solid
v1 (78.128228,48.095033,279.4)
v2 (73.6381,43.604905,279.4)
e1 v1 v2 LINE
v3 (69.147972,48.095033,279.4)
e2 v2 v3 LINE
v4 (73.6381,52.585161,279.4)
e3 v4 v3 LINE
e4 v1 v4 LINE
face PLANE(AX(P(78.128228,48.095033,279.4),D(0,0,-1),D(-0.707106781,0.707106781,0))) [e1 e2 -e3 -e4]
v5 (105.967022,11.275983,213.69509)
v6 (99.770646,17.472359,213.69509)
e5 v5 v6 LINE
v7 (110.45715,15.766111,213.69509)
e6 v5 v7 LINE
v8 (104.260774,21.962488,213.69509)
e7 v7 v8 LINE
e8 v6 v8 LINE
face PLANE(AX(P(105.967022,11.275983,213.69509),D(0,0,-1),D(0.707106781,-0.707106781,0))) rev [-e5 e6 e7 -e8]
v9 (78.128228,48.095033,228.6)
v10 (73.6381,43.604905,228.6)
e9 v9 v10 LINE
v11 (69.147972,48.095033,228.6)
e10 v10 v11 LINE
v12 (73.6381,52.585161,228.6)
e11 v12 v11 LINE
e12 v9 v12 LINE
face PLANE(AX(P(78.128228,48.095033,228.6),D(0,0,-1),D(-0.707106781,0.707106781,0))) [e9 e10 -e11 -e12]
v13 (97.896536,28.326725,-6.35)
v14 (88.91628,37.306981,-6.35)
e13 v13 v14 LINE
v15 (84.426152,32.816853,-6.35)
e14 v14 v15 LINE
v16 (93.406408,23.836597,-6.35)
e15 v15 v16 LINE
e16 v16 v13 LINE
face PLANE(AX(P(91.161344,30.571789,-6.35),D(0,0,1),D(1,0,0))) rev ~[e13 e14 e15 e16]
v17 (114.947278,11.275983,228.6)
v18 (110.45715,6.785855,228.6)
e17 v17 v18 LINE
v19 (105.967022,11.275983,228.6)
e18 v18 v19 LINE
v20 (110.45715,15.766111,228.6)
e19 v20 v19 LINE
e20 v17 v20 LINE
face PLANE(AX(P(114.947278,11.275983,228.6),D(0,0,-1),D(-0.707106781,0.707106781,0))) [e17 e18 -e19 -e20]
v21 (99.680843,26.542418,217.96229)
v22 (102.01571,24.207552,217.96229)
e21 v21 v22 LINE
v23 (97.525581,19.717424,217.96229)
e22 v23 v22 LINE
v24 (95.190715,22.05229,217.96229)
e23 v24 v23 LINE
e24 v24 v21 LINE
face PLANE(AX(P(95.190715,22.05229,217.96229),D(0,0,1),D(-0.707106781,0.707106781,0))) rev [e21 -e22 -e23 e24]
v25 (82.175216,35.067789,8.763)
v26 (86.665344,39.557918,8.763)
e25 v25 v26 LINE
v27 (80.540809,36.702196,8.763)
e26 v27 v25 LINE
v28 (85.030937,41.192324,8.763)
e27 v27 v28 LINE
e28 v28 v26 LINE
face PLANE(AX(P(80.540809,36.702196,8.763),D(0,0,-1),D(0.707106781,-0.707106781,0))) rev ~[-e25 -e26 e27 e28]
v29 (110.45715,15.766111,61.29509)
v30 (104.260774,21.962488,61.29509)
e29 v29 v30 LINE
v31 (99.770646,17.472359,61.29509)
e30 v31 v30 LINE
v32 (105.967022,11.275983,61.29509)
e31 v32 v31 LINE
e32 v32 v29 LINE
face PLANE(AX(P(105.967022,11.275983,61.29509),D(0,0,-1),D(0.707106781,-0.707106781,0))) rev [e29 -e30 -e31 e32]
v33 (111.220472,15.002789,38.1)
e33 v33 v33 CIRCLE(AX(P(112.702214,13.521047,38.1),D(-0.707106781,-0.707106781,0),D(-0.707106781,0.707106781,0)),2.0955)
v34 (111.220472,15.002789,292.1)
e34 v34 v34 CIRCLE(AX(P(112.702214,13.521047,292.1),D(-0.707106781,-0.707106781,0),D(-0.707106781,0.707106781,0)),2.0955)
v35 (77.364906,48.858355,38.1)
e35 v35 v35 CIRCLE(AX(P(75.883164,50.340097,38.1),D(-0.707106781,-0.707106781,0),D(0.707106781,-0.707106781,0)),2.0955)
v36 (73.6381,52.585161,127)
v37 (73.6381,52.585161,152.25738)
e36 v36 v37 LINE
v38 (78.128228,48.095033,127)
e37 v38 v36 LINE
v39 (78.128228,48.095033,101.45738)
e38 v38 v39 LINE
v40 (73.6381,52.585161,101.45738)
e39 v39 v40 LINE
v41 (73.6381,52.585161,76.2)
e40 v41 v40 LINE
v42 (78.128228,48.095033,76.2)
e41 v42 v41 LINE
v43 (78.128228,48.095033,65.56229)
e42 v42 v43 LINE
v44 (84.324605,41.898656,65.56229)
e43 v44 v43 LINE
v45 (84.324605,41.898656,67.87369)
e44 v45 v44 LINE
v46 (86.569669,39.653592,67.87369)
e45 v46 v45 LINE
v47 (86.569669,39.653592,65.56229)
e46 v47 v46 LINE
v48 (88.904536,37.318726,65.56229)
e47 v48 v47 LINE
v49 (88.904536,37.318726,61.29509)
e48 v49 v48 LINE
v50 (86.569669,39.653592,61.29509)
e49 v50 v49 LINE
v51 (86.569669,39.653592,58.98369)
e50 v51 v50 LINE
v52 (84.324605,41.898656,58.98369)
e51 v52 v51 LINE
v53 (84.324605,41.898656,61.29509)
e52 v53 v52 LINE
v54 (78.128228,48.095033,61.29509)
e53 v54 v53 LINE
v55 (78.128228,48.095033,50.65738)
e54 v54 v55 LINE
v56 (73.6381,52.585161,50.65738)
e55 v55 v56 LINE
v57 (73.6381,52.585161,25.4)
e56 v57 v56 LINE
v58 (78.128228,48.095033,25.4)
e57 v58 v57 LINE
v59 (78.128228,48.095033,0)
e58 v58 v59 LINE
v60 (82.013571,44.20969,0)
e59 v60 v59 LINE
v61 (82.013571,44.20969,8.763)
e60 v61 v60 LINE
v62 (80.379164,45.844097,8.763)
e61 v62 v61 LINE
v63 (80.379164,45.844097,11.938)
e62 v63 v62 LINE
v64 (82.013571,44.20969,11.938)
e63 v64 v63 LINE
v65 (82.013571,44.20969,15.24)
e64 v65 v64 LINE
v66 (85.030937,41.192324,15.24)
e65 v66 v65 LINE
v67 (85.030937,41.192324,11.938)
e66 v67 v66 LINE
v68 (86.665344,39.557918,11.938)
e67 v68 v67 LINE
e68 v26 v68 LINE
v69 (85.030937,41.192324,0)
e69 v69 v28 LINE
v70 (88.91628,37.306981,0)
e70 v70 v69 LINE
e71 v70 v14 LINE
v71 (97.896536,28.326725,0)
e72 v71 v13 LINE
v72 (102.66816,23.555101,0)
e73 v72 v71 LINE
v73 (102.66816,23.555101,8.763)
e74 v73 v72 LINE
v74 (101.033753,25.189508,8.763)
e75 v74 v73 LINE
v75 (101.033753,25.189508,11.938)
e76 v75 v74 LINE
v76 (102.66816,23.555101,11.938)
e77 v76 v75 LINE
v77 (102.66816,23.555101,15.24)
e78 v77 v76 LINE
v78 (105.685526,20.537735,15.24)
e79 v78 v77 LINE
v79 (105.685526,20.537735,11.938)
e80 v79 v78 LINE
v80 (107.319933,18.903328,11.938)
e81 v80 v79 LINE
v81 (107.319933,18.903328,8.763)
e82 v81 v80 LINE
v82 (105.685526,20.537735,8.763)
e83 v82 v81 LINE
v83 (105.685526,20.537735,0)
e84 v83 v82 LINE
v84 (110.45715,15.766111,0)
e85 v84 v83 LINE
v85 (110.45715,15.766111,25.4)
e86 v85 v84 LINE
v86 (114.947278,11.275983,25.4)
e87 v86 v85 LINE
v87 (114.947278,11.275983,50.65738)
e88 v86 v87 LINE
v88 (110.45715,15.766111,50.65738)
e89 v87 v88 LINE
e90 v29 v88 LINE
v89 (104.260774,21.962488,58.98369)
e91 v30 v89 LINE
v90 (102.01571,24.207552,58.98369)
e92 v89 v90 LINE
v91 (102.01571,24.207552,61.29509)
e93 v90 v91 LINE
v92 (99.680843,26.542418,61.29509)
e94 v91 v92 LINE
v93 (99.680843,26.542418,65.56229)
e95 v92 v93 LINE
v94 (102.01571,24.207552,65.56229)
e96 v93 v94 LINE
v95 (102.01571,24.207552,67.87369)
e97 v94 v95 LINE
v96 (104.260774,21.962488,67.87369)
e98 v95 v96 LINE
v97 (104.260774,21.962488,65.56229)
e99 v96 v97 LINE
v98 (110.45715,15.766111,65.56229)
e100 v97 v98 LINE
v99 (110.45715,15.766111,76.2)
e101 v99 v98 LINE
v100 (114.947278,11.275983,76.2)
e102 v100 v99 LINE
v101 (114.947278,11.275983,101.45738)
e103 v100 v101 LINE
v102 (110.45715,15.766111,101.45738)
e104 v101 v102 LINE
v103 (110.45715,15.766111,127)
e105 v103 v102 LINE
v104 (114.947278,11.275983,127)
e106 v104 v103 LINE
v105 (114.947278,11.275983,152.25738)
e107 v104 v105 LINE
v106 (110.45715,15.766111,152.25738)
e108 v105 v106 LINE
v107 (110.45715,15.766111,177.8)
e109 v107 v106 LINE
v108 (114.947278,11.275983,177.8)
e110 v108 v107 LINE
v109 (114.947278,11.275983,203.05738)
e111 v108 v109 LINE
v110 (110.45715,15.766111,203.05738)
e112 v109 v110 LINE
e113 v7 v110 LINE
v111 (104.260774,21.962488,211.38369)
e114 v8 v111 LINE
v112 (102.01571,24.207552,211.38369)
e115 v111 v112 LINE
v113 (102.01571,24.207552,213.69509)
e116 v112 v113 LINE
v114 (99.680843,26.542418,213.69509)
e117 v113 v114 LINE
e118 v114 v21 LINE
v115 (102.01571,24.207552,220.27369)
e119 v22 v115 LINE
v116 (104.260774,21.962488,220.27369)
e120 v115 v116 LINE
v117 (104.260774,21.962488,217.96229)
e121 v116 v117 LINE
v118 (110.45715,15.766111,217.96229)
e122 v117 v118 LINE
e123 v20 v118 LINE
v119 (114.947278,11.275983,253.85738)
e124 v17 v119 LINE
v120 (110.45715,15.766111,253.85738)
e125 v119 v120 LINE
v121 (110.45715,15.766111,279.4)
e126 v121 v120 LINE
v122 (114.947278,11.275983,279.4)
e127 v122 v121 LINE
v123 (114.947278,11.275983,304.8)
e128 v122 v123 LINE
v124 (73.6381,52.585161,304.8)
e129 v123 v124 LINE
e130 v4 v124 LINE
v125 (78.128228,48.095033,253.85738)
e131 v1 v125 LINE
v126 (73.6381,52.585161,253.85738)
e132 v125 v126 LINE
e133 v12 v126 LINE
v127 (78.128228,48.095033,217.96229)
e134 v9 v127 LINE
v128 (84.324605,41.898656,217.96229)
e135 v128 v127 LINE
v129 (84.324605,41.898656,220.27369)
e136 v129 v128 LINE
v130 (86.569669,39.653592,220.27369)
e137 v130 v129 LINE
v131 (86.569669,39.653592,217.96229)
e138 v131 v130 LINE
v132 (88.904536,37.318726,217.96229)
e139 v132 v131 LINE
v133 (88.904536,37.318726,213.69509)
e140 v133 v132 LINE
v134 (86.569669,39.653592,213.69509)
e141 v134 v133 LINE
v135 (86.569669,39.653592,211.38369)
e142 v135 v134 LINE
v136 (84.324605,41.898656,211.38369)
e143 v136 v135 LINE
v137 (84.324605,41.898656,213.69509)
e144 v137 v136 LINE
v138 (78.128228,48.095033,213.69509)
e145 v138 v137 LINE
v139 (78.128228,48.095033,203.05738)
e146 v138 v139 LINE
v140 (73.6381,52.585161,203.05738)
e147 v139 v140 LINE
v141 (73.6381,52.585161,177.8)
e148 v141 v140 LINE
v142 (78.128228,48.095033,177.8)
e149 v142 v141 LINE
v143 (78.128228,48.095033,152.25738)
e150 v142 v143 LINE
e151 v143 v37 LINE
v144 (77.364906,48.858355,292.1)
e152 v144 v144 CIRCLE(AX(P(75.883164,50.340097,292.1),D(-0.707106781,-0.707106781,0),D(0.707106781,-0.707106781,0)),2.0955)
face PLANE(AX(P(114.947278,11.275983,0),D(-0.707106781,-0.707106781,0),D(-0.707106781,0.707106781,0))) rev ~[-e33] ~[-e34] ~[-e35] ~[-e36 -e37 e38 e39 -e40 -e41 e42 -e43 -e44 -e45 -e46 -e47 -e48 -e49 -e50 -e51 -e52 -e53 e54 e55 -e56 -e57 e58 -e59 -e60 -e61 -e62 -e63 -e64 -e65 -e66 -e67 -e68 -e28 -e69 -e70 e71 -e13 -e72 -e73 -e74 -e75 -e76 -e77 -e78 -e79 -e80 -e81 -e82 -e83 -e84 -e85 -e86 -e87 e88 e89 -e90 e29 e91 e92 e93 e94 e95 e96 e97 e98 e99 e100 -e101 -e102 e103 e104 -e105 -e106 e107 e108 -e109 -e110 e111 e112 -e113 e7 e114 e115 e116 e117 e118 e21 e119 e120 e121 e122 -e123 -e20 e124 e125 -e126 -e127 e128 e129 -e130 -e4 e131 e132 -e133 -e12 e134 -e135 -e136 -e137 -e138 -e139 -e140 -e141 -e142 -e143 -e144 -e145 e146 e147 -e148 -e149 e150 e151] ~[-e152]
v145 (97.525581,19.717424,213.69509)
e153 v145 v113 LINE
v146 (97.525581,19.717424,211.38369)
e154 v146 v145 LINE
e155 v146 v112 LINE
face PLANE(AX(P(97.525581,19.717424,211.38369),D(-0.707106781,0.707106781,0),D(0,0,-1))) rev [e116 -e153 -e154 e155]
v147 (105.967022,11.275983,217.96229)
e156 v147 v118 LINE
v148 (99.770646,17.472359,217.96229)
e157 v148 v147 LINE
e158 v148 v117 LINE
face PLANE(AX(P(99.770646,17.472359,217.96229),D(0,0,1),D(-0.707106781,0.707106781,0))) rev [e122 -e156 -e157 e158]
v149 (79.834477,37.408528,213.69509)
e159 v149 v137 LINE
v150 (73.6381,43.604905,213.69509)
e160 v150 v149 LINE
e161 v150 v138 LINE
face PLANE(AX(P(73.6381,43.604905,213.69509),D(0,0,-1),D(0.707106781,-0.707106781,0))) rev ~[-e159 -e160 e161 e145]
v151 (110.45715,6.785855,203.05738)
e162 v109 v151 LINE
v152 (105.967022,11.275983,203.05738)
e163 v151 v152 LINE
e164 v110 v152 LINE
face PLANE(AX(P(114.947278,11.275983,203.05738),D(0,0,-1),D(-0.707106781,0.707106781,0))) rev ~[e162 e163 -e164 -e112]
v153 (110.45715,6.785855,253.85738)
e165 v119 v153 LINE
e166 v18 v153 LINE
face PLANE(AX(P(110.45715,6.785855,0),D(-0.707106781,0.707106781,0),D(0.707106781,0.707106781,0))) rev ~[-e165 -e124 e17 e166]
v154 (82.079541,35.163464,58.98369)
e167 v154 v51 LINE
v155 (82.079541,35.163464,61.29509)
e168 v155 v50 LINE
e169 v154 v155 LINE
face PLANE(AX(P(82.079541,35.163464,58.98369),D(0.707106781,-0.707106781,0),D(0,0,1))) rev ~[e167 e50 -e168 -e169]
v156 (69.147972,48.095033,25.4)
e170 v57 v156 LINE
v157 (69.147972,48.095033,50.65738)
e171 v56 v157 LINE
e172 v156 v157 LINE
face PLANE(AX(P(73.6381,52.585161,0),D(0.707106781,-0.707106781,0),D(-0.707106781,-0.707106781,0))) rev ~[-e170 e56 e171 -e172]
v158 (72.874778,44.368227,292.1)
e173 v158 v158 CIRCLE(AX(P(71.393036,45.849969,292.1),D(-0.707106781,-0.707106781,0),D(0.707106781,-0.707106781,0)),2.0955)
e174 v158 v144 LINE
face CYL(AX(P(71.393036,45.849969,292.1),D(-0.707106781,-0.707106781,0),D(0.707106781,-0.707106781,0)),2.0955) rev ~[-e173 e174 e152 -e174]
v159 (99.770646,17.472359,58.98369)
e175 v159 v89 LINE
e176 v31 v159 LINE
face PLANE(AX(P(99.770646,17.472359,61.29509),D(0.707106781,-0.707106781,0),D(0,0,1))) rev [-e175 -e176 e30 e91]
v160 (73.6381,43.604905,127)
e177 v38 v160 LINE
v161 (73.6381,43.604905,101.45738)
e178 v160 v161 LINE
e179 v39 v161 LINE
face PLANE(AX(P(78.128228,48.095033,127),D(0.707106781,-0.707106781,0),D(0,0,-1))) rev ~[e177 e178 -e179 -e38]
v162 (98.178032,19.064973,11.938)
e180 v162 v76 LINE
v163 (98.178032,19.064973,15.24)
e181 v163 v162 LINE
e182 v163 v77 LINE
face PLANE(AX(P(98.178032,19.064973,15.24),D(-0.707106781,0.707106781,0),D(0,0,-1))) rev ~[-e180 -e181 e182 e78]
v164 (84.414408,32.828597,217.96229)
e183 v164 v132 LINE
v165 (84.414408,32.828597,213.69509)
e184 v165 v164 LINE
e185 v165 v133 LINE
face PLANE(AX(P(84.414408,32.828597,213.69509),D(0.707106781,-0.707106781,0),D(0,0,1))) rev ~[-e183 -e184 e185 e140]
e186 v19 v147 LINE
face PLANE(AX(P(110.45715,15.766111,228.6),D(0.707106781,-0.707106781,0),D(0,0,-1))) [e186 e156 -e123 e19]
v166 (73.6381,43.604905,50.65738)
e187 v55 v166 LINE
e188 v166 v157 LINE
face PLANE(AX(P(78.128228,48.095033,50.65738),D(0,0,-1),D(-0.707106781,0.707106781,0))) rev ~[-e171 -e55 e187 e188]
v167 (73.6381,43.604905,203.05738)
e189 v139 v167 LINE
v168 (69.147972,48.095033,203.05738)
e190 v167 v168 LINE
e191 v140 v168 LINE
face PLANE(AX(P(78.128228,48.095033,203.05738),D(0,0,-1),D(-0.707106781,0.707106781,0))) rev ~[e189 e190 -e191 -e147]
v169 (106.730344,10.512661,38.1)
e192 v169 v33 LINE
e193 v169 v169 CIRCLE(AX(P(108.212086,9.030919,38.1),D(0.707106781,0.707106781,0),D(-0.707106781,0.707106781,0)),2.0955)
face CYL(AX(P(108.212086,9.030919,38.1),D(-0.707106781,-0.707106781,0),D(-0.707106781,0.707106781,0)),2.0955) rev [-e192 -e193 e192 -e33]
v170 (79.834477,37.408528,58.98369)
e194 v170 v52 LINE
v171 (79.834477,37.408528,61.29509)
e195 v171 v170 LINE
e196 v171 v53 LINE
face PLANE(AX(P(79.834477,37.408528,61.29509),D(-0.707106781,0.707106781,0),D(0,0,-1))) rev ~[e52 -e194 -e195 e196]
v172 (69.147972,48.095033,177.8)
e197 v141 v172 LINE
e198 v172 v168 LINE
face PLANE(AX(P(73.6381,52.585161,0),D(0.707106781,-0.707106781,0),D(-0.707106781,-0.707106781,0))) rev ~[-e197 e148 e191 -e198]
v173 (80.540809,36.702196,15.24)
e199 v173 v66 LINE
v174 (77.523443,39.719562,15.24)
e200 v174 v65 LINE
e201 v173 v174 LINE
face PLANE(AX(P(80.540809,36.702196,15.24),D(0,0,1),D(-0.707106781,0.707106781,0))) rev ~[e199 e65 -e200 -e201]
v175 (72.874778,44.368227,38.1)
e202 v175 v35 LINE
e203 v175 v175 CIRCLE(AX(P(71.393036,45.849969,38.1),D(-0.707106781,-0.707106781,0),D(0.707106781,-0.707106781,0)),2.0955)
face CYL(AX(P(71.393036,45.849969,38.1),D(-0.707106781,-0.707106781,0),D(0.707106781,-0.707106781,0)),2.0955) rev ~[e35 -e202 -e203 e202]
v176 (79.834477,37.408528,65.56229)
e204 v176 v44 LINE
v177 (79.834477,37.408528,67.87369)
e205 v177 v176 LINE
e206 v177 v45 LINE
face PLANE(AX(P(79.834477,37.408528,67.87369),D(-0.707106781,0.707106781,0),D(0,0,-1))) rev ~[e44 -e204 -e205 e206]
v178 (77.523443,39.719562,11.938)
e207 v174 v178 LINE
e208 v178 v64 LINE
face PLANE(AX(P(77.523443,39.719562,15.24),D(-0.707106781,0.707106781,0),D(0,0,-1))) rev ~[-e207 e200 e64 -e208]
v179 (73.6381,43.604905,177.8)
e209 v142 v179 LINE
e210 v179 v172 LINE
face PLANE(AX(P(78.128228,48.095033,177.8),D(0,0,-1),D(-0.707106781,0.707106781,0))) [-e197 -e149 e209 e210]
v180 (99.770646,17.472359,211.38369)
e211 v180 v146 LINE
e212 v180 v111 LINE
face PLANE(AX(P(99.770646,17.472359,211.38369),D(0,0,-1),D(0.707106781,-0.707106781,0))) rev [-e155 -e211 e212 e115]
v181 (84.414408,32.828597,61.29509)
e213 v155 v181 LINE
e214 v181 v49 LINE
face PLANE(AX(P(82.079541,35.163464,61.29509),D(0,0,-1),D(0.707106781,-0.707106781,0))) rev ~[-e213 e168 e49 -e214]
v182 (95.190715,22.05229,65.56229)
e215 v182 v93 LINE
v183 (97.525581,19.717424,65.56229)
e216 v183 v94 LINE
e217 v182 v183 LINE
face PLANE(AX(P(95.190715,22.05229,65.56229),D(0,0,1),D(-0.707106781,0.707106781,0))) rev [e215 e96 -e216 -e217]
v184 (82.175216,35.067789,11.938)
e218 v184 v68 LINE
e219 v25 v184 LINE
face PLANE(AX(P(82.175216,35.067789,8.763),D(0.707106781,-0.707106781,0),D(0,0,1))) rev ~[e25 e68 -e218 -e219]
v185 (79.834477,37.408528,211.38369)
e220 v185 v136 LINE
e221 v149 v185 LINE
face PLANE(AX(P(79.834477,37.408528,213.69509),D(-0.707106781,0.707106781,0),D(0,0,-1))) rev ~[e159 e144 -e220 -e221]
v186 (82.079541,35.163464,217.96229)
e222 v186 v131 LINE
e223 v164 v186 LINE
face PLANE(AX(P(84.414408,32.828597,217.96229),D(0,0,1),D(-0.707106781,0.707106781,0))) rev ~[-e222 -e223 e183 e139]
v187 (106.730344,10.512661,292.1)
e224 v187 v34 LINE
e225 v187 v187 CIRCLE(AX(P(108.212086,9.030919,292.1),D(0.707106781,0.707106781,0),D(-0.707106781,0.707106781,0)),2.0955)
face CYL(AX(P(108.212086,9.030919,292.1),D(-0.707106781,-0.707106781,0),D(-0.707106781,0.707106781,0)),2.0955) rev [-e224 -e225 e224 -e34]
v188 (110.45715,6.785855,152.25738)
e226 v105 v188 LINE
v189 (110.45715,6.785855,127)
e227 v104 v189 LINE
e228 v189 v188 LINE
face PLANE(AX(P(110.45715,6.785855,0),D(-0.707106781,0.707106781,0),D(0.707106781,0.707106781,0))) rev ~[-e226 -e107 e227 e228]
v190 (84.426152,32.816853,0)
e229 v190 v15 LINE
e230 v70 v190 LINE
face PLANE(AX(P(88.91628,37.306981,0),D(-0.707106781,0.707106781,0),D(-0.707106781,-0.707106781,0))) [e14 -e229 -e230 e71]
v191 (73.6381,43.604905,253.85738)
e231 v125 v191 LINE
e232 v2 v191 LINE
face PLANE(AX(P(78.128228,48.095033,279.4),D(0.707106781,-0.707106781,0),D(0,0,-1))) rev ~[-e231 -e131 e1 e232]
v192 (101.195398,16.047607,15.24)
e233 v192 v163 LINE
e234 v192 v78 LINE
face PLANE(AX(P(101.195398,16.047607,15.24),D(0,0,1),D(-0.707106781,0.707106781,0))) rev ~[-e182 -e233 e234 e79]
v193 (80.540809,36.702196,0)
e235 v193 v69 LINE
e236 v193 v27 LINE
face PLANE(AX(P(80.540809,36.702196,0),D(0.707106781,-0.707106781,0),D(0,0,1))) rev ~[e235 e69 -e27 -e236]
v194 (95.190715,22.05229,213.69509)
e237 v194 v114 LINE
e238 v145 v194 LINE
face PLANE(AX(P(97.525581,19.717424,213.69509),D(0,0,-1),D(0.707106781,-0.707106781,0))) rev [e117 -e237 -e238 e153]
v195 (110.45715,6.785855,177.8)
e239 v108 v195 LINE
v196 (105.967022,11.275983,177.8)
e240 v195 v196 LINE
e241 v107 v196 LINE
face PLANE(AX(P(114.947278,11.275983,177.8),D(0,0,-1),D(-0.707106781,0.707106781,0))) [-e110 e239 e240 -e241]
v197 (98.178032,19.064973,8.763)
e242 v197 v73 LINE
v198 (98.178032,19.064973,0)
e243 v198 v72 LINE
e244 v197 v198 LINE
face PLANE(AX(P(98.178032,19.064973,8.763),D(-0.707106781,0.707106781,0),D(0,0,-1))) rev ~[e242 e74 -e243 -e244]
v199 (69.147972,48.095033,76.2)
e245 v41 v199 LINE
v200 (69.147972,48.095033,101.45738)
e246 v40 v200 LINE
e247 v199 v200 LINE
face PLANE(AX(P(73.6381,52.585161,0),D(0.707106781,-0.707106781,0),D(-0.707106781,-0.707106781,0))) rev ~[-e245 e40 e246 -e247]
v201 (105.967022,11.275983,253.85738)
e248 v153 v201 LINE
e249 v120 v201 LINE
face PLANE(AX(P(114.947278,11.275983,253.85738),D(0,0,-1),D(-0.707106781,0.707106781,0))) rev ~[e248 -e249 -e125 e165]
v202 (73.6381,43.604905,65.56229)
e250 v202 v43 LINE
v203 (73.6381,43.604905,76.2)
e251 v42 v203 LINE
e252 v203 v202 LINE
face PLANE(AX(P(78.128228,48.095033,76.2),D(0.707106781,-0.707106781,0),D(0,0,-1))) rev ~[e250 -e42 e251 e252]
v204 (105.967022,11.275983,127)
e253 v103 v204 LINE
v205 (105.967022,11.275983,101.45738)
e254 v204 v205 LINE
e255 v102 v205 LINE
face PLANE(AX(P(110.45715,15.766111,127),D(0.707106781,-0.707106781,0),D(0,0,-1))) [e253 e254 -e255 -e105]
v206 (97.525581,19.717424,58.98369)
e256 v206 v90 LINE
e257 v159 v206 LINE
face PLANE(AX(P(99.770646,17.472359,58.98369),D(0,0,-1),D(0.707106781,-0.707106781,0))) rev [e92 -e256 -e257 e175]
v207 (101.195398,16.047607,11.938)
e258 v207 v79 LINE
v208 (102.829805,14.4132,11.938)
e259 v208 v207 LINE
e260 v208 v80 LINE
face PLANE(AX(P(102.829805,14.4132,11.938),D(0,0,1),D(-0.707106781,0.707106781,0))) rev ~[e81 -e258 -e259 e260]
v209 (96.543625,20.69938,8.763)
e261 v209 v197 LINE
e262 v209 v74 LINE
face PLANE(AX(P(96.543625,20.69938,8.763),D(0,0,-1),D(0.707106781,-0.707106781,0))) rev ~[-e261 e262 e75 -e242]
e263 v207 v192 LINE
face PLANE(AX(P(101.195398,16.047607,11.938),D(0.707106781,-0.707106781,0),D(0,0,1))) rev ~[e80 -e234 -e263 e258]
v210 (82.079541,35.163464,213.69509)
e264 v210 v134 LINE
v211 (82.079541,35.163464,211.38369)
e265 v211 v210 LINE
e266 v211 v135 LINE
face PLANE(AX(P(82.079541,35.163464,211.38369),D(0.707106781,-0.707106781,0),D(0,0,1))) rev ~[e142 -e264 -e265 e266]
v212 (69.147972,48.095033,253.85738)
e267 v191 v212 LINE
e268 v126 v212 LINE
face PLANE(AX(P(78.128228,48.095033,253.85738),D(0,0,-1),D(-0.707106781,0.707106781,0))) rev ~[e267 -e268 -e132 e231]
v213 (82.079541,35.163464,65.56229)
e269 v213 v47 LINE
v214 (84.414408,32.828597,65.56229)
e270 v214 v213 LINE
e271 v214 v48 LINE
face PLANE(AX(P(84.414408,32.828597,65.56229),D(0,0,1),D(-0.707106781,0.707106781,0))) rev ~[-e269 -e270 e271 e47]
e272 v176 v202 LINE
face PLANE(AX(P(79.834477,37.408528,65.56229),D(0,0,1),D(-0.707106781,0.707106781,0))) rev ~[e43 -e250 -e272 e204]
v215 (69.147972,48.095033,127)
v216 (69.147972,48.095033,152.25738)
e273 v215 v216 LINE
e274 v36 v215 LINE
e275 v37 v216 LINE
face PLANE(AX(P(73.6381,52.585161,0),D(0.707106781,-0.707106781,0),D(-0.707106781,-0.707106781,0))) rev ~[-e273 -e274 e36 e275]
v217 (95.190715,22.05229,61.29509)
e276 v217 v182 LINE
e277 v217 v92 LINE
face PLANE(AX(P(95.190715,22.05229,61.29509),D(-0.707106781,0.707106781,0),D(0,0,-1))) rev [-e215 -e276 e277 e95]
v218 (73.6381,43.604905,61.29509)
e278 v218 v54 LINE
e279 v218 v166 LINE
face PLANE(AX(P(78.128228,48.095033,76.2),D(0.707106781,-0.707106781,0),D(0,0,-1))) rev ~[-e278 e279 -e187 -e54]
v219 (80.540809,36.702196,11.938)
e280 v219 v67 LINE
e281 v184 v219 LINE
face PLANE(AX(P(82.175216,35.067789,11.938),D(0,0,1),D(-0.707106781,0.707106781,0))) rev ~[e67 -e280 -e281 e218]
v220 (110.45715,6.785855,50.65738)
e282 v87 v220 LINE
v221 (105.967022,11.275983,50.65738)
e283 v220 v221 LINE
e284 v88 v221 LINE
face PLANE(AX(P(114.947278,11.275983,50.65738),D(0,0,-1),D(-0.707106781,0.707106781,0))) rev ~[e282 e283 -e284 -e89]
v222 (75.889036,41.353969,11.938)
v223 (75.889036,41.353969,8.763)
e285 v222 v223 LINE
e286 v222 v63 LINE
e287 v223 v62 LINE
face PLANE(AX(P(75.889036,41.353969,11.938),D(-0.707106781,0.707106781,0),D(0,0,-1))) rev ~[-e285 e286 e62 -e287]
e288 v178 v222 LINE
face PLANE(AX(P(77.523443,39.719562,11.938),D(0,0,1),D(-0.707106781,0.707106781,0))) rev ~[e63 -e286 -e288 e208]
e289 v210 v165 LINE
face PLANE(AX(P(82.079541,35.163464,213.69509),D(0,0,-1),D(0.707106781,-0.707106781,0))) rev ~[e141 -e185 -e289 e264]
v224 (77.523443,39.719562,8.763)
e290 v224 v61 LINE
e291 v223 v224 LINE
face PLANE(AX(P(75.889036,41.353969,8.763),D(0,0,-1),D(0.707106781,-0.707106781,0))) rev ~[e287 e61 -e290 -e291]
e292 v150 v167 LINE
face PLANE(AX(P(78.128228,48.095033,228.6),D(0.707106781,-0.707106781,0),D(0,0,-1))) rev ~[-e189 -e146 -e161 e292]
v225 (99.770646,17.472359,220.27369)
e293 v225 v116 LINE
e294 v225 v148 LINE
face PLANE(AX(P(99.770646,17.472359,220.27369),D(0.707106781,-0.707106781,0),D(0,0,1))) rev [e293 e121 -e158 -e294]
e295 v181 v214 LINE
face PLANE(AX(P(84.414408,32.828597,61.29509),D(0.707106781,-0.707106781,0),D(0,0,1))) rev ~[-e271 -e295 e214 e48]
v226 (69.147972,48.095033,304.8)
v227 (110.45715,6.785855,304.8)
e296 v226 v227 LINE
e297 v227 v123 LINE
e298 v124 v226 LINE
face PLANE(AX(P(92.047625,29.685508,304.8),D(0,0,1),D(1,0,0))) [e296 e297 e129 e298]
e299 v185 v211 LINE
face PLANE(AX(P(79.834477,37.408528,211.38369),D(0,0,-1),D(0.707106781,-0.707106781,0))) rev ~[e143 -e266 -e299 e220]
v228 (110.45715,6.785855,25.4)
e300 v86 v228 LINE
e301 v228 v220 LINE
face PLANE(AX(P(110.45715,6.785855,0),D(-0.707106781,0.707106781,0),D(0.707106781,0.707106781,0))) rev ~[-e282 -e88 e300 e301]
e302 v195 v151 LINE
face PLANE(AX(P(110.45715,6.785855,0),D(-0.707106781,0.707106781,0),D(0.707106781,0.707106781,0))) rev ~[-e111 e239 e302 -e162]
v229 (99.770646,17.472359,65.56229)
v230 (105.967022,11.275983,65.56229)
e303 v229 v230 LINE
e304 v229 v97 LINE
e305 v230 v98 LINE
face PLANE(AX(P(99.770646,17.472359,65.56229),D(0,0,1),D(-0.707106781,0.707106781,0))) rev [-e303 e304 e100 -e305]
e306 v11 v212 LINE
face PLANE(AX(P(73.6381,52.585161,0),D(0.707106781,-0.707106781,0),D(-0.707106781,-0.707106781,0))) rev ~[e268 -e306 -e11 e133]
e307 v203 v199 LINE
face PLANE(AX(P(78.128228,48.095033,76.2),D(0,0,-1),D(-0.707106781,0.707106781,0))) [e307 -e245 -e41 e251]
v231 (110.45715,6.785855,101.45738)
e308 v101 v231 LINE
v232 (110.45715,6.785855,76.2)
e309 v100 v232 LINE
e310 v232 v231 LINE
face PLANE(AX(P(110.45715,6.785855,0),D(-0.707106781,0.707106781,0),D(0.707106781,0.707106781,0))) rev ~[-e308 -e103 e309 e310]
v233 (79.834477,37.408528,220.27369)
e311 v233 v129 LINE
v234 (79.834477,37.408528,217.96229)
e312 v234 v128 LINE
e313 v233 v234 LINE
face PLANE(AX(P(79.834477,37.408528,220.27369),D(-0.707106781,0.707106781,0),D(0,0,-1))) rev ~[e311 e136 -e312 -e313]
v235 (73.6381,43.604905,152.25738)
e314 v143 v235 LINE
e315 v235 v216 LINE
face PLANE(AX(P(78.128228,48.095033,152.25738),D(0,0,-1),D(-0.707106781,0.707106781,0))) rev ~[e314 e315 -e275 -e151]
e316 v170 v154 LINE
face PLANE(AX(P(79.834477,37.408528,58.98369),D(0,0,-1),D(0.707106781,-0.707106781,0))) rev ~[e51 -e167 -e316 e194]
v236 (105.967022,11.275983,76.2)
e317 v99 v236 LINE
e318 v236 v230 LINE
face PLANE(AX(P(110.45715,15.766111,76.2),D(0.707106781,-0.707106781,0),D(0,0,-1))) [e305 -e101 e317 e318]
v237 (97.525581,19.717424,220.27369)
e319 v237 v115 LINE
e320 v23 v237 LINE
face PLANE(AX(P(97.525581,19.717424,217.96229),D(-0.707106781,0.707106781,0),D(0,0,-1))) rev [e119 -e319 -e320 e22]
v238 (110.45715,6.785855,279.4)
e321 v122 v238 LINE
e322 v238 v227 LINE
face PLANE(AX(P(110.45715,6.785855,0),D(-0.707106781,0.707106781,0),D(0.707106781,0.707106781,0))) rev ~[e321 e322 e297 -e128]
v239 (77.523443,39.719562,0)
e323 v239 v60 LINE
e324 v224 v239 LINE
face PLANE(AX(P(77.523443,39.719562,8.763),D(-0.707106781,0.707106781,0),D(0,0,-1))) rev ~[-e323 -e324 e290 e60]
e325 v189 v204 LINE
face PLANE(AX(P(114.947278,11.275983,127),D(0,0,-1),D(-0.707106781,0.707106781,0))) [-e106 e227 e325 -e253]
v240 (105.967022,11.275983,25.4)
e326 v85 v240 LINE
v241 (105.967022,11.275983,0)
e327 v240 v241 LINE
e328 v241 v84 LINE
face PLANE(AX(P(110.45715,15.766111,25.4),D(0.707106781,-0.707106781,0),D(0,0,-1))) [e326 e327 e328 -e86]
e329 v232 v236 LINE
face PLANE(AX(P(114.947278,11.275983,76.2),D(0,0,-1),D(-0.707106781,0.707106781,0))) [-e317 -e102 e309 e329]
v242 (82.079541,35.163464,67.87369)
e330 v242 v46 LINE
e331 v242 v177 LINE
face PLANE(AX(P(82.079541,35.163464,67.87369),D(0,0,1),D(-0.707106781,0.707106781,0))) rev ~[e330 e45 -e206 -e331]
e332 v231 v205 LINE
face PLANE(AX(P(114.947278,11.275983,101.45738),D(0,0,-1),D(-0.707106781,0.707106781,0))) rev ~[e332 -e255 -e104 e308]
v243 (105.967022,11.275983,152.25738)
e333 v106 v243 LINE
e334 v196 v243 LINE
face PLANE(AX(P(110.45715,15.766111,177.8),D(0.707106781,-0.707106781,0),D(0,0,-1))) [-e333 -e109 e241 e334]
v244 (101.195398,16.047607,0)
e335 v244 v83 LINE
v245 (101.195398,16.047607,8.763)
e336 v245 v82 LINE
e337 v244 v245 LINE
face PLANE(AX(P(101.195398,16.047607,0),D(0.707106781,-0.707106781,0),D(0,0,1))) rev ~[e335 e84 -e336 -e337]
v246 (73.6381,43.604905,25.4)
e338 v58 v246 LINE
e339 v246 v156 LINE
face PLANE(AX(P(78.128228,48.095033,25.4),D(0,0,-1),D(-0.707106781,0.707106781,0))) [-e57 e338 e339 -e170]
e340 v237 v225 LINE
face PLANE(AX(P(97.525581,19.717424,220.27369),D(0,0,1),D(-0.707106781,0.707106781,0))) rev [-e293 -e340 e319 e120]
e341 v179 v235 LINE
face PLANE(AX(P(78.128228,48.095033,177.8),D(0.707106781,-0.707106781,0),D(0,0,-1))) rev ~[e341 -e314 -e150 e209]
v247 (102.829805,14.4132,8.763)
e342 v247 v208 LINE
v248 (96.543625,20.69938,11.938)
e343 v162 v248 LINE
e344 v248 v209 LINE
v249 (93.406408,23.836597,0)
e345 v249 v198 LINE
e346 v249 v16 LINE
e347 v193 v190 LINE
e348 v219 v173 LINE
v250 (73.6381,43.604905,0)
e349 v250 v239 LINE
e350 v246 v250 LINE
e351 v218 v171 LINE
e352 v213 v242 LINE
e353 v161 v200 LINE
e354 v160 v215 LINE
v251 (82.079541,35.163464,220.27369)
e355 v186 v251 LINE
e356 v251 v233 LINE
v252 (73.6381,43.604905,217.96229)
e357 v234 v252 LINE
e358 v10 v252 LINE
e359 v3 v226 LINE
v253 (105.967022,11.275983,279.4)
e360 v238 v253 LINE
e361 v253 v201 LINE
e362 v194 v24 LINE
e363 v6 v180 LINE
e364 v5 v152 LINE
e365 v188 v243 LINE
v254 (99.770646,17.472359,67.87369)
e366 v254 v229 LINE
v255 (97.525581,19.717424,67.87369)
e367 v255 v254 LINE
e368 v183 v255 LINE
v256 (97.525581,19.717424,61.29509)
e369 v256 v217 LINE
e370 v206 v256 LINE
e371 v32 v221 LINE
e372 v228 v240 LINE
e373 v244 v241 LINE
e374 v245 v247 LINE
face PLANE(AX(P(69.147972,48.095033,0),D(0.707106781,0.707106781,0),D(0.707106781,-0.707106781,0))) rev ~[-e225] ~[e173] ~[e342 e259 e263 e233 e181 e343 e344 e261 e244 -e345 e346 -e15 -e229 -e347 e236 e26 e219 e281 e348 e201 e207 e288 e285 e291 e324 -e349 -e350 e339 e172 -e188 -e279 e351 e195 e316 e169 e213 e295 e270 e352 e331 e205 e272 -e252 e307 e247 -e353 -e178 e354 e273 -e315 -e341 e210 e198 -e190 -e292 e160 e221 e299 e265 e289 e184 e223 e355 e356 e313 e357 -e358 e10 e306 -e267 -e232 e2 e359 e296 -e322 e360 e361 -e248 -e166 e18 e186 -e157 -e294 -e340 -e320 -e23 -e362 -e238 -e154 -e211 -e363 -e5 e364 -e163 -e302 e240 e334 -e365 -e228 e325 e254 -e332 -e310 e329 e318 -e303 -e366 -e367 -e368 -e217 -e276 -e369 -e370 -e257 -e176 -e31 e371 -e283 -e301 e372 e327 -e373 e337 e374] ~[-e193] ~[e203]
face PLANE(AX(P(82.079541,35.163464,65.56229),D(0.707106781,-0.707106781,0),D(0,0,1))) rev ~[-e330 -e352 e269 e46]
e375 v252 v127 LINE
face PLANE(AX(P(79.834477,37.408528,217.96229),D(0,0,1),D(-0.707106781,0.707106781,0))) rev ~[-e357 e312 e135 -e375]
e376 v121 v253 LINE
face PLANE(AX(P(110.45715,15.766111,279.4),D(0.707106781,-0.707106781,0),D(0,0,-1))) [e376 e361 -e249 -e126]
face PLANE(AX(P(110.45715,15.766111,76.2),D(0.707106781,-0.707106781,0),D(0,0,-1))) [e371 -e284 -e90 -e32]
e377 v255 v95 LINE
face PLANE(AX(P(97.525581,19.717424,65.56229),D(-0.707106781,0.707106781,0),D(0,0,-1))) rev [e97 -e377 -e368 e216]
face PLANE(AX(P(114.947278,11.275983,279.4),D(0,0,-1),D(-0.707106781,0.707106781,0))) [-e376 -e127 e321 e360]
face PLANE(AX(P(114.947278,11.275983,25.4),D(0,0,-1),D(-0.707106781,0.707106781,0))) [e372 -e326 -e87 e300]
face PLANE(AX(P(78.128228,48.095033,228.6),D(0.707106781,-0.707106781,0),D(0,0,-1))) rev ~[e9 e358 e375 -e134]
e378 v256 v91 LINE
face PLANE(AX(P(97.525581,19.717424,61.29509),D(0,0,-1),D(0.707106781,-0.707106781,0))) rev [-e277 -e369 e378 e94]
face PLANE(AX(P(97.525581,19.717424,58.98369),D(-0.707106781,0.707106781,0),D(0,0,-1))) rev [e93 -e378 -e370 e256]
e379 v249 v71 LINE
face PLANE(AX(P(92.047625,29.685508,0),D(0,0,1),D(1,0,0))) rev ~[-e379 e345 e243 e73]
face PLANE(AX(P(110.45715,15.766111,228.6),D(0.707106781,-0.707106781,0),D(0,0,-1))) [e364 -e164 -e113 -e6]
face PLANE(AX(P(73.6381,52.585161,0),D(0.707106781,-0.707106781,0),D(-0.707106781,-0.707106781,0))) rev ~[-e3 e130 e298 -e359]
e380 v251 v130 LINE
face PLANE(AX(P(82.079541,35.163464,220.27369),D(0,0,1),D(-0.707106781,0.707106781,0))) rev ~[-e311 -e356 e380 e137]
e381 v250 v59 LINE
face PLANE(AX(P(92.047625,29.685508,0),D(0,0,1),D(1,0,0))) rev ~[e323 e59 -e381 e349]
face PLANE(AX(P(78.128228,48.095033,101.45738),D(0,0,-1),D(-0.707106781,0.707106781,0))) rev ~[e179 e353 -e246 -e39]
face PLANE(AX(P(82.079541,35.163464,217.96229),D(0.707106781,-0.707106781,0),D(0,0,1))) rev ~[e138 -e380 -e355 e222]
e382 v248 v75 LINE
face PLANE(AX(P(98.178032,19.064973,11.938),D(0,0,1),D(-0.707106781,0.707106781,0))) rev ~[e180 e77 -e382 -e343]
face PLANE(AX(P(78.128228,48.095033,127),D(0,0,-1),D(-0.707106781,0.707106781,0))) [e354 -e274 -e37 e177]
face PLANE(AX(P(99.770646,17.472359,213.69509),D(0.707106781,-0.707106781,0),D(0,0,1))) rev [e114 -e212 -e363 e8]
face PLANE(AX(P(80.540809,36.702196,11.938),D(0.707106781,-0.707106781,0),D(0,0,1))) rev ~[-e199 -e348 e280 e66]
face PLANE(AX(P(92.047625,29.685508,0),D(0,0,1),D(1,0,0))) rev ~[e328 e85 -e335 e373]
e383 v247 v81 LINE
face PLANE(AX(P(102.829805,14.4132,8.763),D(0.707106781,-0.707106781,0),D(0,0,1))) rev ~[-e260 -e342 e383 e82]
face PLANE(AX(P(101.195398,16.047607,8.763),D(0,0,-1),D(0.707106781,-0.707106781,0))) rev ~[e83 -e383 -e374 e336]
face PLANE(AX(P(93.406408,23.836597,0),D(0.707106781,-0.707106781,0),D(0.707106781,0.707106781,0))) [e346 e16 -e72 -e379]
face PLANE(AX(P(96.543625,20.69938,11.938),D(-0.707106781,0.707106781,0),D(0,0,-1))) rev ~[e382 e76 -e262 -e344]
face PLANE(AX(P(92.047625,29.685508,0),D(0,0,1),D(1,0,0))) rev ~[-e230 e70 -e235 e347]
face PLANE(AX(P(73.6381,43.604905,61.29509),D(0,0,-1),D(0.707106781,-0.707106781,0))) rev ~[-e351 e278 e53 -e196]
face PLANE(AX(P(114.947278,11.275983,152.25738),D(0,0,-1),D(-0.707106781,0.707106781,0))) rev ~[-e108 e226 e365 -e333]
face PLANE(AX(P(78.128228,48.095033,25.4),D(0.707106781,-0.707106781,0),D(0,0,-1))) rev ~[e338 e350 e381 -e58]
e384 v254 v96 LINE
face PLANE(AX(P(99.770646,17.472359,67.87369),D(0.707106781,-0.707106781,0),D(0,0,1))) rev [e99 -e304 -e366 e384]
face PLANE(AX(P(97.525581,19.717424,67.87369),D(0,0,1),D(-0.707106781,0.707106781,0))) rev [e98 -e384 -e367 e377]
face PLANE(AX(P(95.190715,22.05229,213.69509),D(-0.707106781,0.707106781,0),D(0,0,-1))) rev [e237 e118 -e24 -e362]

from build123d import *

# Parameters (mm, degrees)
BOSS_EXTRUDE1_DEPTH = 304.8
SKETCH2_W           = 25.542619615
SKETCH2_H           = 6.35
CUT_EXTRUDE1_DEPTH  = 6.35
LPATTERN1_COUNT     = 6
LPATTERN1_PITCH     = 50.8
BOSS_EXTRUDE2_DEPTH = 6.35
CUT_EXTRUDE2_DEPTH  = 315.265122799
SKETCH5_R           = 2.0955
CUT_EXTRUDE3_DEPTH  = 315.265122799
CUT_EXTRUDE4_DEPTH  = 315.265122799


with BuildPart() as part:
    # Sketch1 → Boss-Extrude1 (new body)
    with BuildSketch(Plane.XY):
        Polygon((69.147972132, 48.095032857), (110.457150289, 6.7858547), (114.94727835, 11.275982761), (73.638100193, 52.585160918), align=None)
    extrude(amount=BOSS_EXTRUDE1_DEPTH)

    # Sketch2 → Cut-Extrude1 (cut)
    with BuildSketch(Plane(origin=(63.111630555, 63.111630555, 0), x_dir=(0, 0, -1), z_dir=(0.7071067811865472, 0.7071067811865478, 0))):
        with Locations((-266.628690193, -18.061676125)):
            Rectangle(SKETCH2_W, SKETCH2_H)
        with Locations((-266.628690193, -70.131676125)):
            Rectangle(SKETCH2_W, SKETCH2_H)
    cut_extrude1 = extrude(amount=-CUT_EXTRUDE1_DEPTH, mode=Mode.SUBTRACT)

    # LPattern1: Cut-Extrude1 ×6
    with Locations(*[(0, 0, -i * LPATTERN1_PITCH) for i in range(1, LPATTERN1_COUNT)]):
        add(cut_extrude1, mode=Mode.SUBTRACT)

    # Sketch3 → Boss-Extrude2 (add)
    with BuildSketch(Plane(origin=(0, 0, 0), x_dir=(-1, 0, 0), z_dir=(0, 0, -1))):
        Polygon((-84.426151589, 32.816853401), (-93.40640771, 23.83659728), (-97.89653577, 28.32672534), (-88.916279649, 37.306981461), align=None)
    extrude(amount=BOSS_EXTRUDE2_DEPTH)

    # Sketch4 → Cut-Extrude2 (cut, through all)
    with BuildSketch(Plane(origin=(58.621502495, 58.621502495, 0), x_dir=(-0.7071067811865478, 0.7071067811865472, 0), z_dir=(-0.7071067811865472, -0.7071067811865478, 0))):
        Polygon((-55.941380423, 0), (-60.208580423, 0), (-60.208580423, -8.763), (-62.519980423, -8.763), (-62.519980423, -11.938), (-60.208580423, -11.938), (-60.208580423, -15.24), (-55.941380423, -15.24), (-55.941380423, -11.938), (-53.629980423, -11.938), (-53.629980423, -8.763), (-55.941380423, -8.763), align=None)
        Polygon((-26.731380423, 0), (-30.998580423, 0), (-30.998580423, -8.763), (-33.309980423, -8.763), (-33.309980423, -11.938), (-30.998580423, -11.938), (-30.998580423, -15.24), (-26.731380423, -15.24), (-26.731380423, -11.938), (-24.419980423, -11.938), (-24.419980423, -8.763), (-26.731380423, -8.763), align=None)
    extrude(amount=-CUT_EXTRUDE2_DEPTH, mode=Mode.SUBTRACT)

    # Sketch5 → Cut-Extrude3 (cut, through all)
    with BuildSketch(Plane(origin=(58.621502495, 58.621502495, 0), x_dir=(-0.7071067811865478, 0.7071067811865472, 0), z_dir=(-0.7071067811865472, -0.7071067811865478, 0))):
        with Locations(Location((-18.061676125, -38.1, 0), (0, 0, 180))):
            Circle(SKETCH5_R)
        with Locations(Location((-18.061676125, -292.1, 0), (0, 0, 180))):
            Circle(SKETCH5_R)
    cut_extrude3 = extrude(amount=-CUT_EXTRUDE3_DEPTH, mode=Mode.SUBTRACT)

    # Mirror1: Cut-Extrude3 across plane
    add(cut_extrude3.mirror(Plane(origin=(31.181058716, -31.181058716, 0), x_dir=(0, 0, 1), z_dir=(0.7071067811865478, -0.7071067811865472, 0))), mode=Mode.SUBTRACT)

    # Sketch6 → Cut-Extrude4 (cut, through all)
    with BuildSketch(Plane(origin=(58.621502495, 58.621502495, 0), x_dir=(-0.7071067811865478, 0.7071067811865472, 0), z_dir=(-0.7071067811865472, -0.7071067811865478, 0))):
        Polygon((-21.236676125, -65.562290193), (-21.236676125, -61.295090193), (-29.999676125, -61.295090193), (-29.999676125, -58.983690193), (-33.174676125, -58.983690193), (-33.174676125, -61.295090193), (-36.476676125, -61.295090193), (-36.476676125, -65.562290193), (-33.174676125, -65.562290193), (-33.174676125, -67.873690193), (-29.999676125, -67.873690193), (-29.999676125, -65.562290193), align=None)
        Polygon((-21.236676125, -217.962290193), (-21.236676125, -213.695090193), (-29.999676125, -213.695090193), (-29.999676125, -211.383690193), (-33.174676125, -211.383690193), (-33.174676125, -213.695090193), (-36.476676125, -213.695090193), (-36.476676125, -217.962290193), (-33.174676125, -217.962290193), (-33.174676125, -220.273690193), (-29.999676125, -220.273690193), (-29.999676125, -217.962290193), align=None)
    cut_extrude4 = extrude(amount=-CUT_EXTRUDE4_DEPTH, mode=Mode.SUBTRACT)

    # Mirror2: Cut-Extrude4 across plane
    add(cut_extrude4.mirror(Plane(origin=(31.181058716, -31.181058716, 0), x_dir=(0, 0, 1), z_dir=(0.7071067811865478, -0.7071067811865472, 0))), mode=Mode.SUBTRACT)


solid = part.part
